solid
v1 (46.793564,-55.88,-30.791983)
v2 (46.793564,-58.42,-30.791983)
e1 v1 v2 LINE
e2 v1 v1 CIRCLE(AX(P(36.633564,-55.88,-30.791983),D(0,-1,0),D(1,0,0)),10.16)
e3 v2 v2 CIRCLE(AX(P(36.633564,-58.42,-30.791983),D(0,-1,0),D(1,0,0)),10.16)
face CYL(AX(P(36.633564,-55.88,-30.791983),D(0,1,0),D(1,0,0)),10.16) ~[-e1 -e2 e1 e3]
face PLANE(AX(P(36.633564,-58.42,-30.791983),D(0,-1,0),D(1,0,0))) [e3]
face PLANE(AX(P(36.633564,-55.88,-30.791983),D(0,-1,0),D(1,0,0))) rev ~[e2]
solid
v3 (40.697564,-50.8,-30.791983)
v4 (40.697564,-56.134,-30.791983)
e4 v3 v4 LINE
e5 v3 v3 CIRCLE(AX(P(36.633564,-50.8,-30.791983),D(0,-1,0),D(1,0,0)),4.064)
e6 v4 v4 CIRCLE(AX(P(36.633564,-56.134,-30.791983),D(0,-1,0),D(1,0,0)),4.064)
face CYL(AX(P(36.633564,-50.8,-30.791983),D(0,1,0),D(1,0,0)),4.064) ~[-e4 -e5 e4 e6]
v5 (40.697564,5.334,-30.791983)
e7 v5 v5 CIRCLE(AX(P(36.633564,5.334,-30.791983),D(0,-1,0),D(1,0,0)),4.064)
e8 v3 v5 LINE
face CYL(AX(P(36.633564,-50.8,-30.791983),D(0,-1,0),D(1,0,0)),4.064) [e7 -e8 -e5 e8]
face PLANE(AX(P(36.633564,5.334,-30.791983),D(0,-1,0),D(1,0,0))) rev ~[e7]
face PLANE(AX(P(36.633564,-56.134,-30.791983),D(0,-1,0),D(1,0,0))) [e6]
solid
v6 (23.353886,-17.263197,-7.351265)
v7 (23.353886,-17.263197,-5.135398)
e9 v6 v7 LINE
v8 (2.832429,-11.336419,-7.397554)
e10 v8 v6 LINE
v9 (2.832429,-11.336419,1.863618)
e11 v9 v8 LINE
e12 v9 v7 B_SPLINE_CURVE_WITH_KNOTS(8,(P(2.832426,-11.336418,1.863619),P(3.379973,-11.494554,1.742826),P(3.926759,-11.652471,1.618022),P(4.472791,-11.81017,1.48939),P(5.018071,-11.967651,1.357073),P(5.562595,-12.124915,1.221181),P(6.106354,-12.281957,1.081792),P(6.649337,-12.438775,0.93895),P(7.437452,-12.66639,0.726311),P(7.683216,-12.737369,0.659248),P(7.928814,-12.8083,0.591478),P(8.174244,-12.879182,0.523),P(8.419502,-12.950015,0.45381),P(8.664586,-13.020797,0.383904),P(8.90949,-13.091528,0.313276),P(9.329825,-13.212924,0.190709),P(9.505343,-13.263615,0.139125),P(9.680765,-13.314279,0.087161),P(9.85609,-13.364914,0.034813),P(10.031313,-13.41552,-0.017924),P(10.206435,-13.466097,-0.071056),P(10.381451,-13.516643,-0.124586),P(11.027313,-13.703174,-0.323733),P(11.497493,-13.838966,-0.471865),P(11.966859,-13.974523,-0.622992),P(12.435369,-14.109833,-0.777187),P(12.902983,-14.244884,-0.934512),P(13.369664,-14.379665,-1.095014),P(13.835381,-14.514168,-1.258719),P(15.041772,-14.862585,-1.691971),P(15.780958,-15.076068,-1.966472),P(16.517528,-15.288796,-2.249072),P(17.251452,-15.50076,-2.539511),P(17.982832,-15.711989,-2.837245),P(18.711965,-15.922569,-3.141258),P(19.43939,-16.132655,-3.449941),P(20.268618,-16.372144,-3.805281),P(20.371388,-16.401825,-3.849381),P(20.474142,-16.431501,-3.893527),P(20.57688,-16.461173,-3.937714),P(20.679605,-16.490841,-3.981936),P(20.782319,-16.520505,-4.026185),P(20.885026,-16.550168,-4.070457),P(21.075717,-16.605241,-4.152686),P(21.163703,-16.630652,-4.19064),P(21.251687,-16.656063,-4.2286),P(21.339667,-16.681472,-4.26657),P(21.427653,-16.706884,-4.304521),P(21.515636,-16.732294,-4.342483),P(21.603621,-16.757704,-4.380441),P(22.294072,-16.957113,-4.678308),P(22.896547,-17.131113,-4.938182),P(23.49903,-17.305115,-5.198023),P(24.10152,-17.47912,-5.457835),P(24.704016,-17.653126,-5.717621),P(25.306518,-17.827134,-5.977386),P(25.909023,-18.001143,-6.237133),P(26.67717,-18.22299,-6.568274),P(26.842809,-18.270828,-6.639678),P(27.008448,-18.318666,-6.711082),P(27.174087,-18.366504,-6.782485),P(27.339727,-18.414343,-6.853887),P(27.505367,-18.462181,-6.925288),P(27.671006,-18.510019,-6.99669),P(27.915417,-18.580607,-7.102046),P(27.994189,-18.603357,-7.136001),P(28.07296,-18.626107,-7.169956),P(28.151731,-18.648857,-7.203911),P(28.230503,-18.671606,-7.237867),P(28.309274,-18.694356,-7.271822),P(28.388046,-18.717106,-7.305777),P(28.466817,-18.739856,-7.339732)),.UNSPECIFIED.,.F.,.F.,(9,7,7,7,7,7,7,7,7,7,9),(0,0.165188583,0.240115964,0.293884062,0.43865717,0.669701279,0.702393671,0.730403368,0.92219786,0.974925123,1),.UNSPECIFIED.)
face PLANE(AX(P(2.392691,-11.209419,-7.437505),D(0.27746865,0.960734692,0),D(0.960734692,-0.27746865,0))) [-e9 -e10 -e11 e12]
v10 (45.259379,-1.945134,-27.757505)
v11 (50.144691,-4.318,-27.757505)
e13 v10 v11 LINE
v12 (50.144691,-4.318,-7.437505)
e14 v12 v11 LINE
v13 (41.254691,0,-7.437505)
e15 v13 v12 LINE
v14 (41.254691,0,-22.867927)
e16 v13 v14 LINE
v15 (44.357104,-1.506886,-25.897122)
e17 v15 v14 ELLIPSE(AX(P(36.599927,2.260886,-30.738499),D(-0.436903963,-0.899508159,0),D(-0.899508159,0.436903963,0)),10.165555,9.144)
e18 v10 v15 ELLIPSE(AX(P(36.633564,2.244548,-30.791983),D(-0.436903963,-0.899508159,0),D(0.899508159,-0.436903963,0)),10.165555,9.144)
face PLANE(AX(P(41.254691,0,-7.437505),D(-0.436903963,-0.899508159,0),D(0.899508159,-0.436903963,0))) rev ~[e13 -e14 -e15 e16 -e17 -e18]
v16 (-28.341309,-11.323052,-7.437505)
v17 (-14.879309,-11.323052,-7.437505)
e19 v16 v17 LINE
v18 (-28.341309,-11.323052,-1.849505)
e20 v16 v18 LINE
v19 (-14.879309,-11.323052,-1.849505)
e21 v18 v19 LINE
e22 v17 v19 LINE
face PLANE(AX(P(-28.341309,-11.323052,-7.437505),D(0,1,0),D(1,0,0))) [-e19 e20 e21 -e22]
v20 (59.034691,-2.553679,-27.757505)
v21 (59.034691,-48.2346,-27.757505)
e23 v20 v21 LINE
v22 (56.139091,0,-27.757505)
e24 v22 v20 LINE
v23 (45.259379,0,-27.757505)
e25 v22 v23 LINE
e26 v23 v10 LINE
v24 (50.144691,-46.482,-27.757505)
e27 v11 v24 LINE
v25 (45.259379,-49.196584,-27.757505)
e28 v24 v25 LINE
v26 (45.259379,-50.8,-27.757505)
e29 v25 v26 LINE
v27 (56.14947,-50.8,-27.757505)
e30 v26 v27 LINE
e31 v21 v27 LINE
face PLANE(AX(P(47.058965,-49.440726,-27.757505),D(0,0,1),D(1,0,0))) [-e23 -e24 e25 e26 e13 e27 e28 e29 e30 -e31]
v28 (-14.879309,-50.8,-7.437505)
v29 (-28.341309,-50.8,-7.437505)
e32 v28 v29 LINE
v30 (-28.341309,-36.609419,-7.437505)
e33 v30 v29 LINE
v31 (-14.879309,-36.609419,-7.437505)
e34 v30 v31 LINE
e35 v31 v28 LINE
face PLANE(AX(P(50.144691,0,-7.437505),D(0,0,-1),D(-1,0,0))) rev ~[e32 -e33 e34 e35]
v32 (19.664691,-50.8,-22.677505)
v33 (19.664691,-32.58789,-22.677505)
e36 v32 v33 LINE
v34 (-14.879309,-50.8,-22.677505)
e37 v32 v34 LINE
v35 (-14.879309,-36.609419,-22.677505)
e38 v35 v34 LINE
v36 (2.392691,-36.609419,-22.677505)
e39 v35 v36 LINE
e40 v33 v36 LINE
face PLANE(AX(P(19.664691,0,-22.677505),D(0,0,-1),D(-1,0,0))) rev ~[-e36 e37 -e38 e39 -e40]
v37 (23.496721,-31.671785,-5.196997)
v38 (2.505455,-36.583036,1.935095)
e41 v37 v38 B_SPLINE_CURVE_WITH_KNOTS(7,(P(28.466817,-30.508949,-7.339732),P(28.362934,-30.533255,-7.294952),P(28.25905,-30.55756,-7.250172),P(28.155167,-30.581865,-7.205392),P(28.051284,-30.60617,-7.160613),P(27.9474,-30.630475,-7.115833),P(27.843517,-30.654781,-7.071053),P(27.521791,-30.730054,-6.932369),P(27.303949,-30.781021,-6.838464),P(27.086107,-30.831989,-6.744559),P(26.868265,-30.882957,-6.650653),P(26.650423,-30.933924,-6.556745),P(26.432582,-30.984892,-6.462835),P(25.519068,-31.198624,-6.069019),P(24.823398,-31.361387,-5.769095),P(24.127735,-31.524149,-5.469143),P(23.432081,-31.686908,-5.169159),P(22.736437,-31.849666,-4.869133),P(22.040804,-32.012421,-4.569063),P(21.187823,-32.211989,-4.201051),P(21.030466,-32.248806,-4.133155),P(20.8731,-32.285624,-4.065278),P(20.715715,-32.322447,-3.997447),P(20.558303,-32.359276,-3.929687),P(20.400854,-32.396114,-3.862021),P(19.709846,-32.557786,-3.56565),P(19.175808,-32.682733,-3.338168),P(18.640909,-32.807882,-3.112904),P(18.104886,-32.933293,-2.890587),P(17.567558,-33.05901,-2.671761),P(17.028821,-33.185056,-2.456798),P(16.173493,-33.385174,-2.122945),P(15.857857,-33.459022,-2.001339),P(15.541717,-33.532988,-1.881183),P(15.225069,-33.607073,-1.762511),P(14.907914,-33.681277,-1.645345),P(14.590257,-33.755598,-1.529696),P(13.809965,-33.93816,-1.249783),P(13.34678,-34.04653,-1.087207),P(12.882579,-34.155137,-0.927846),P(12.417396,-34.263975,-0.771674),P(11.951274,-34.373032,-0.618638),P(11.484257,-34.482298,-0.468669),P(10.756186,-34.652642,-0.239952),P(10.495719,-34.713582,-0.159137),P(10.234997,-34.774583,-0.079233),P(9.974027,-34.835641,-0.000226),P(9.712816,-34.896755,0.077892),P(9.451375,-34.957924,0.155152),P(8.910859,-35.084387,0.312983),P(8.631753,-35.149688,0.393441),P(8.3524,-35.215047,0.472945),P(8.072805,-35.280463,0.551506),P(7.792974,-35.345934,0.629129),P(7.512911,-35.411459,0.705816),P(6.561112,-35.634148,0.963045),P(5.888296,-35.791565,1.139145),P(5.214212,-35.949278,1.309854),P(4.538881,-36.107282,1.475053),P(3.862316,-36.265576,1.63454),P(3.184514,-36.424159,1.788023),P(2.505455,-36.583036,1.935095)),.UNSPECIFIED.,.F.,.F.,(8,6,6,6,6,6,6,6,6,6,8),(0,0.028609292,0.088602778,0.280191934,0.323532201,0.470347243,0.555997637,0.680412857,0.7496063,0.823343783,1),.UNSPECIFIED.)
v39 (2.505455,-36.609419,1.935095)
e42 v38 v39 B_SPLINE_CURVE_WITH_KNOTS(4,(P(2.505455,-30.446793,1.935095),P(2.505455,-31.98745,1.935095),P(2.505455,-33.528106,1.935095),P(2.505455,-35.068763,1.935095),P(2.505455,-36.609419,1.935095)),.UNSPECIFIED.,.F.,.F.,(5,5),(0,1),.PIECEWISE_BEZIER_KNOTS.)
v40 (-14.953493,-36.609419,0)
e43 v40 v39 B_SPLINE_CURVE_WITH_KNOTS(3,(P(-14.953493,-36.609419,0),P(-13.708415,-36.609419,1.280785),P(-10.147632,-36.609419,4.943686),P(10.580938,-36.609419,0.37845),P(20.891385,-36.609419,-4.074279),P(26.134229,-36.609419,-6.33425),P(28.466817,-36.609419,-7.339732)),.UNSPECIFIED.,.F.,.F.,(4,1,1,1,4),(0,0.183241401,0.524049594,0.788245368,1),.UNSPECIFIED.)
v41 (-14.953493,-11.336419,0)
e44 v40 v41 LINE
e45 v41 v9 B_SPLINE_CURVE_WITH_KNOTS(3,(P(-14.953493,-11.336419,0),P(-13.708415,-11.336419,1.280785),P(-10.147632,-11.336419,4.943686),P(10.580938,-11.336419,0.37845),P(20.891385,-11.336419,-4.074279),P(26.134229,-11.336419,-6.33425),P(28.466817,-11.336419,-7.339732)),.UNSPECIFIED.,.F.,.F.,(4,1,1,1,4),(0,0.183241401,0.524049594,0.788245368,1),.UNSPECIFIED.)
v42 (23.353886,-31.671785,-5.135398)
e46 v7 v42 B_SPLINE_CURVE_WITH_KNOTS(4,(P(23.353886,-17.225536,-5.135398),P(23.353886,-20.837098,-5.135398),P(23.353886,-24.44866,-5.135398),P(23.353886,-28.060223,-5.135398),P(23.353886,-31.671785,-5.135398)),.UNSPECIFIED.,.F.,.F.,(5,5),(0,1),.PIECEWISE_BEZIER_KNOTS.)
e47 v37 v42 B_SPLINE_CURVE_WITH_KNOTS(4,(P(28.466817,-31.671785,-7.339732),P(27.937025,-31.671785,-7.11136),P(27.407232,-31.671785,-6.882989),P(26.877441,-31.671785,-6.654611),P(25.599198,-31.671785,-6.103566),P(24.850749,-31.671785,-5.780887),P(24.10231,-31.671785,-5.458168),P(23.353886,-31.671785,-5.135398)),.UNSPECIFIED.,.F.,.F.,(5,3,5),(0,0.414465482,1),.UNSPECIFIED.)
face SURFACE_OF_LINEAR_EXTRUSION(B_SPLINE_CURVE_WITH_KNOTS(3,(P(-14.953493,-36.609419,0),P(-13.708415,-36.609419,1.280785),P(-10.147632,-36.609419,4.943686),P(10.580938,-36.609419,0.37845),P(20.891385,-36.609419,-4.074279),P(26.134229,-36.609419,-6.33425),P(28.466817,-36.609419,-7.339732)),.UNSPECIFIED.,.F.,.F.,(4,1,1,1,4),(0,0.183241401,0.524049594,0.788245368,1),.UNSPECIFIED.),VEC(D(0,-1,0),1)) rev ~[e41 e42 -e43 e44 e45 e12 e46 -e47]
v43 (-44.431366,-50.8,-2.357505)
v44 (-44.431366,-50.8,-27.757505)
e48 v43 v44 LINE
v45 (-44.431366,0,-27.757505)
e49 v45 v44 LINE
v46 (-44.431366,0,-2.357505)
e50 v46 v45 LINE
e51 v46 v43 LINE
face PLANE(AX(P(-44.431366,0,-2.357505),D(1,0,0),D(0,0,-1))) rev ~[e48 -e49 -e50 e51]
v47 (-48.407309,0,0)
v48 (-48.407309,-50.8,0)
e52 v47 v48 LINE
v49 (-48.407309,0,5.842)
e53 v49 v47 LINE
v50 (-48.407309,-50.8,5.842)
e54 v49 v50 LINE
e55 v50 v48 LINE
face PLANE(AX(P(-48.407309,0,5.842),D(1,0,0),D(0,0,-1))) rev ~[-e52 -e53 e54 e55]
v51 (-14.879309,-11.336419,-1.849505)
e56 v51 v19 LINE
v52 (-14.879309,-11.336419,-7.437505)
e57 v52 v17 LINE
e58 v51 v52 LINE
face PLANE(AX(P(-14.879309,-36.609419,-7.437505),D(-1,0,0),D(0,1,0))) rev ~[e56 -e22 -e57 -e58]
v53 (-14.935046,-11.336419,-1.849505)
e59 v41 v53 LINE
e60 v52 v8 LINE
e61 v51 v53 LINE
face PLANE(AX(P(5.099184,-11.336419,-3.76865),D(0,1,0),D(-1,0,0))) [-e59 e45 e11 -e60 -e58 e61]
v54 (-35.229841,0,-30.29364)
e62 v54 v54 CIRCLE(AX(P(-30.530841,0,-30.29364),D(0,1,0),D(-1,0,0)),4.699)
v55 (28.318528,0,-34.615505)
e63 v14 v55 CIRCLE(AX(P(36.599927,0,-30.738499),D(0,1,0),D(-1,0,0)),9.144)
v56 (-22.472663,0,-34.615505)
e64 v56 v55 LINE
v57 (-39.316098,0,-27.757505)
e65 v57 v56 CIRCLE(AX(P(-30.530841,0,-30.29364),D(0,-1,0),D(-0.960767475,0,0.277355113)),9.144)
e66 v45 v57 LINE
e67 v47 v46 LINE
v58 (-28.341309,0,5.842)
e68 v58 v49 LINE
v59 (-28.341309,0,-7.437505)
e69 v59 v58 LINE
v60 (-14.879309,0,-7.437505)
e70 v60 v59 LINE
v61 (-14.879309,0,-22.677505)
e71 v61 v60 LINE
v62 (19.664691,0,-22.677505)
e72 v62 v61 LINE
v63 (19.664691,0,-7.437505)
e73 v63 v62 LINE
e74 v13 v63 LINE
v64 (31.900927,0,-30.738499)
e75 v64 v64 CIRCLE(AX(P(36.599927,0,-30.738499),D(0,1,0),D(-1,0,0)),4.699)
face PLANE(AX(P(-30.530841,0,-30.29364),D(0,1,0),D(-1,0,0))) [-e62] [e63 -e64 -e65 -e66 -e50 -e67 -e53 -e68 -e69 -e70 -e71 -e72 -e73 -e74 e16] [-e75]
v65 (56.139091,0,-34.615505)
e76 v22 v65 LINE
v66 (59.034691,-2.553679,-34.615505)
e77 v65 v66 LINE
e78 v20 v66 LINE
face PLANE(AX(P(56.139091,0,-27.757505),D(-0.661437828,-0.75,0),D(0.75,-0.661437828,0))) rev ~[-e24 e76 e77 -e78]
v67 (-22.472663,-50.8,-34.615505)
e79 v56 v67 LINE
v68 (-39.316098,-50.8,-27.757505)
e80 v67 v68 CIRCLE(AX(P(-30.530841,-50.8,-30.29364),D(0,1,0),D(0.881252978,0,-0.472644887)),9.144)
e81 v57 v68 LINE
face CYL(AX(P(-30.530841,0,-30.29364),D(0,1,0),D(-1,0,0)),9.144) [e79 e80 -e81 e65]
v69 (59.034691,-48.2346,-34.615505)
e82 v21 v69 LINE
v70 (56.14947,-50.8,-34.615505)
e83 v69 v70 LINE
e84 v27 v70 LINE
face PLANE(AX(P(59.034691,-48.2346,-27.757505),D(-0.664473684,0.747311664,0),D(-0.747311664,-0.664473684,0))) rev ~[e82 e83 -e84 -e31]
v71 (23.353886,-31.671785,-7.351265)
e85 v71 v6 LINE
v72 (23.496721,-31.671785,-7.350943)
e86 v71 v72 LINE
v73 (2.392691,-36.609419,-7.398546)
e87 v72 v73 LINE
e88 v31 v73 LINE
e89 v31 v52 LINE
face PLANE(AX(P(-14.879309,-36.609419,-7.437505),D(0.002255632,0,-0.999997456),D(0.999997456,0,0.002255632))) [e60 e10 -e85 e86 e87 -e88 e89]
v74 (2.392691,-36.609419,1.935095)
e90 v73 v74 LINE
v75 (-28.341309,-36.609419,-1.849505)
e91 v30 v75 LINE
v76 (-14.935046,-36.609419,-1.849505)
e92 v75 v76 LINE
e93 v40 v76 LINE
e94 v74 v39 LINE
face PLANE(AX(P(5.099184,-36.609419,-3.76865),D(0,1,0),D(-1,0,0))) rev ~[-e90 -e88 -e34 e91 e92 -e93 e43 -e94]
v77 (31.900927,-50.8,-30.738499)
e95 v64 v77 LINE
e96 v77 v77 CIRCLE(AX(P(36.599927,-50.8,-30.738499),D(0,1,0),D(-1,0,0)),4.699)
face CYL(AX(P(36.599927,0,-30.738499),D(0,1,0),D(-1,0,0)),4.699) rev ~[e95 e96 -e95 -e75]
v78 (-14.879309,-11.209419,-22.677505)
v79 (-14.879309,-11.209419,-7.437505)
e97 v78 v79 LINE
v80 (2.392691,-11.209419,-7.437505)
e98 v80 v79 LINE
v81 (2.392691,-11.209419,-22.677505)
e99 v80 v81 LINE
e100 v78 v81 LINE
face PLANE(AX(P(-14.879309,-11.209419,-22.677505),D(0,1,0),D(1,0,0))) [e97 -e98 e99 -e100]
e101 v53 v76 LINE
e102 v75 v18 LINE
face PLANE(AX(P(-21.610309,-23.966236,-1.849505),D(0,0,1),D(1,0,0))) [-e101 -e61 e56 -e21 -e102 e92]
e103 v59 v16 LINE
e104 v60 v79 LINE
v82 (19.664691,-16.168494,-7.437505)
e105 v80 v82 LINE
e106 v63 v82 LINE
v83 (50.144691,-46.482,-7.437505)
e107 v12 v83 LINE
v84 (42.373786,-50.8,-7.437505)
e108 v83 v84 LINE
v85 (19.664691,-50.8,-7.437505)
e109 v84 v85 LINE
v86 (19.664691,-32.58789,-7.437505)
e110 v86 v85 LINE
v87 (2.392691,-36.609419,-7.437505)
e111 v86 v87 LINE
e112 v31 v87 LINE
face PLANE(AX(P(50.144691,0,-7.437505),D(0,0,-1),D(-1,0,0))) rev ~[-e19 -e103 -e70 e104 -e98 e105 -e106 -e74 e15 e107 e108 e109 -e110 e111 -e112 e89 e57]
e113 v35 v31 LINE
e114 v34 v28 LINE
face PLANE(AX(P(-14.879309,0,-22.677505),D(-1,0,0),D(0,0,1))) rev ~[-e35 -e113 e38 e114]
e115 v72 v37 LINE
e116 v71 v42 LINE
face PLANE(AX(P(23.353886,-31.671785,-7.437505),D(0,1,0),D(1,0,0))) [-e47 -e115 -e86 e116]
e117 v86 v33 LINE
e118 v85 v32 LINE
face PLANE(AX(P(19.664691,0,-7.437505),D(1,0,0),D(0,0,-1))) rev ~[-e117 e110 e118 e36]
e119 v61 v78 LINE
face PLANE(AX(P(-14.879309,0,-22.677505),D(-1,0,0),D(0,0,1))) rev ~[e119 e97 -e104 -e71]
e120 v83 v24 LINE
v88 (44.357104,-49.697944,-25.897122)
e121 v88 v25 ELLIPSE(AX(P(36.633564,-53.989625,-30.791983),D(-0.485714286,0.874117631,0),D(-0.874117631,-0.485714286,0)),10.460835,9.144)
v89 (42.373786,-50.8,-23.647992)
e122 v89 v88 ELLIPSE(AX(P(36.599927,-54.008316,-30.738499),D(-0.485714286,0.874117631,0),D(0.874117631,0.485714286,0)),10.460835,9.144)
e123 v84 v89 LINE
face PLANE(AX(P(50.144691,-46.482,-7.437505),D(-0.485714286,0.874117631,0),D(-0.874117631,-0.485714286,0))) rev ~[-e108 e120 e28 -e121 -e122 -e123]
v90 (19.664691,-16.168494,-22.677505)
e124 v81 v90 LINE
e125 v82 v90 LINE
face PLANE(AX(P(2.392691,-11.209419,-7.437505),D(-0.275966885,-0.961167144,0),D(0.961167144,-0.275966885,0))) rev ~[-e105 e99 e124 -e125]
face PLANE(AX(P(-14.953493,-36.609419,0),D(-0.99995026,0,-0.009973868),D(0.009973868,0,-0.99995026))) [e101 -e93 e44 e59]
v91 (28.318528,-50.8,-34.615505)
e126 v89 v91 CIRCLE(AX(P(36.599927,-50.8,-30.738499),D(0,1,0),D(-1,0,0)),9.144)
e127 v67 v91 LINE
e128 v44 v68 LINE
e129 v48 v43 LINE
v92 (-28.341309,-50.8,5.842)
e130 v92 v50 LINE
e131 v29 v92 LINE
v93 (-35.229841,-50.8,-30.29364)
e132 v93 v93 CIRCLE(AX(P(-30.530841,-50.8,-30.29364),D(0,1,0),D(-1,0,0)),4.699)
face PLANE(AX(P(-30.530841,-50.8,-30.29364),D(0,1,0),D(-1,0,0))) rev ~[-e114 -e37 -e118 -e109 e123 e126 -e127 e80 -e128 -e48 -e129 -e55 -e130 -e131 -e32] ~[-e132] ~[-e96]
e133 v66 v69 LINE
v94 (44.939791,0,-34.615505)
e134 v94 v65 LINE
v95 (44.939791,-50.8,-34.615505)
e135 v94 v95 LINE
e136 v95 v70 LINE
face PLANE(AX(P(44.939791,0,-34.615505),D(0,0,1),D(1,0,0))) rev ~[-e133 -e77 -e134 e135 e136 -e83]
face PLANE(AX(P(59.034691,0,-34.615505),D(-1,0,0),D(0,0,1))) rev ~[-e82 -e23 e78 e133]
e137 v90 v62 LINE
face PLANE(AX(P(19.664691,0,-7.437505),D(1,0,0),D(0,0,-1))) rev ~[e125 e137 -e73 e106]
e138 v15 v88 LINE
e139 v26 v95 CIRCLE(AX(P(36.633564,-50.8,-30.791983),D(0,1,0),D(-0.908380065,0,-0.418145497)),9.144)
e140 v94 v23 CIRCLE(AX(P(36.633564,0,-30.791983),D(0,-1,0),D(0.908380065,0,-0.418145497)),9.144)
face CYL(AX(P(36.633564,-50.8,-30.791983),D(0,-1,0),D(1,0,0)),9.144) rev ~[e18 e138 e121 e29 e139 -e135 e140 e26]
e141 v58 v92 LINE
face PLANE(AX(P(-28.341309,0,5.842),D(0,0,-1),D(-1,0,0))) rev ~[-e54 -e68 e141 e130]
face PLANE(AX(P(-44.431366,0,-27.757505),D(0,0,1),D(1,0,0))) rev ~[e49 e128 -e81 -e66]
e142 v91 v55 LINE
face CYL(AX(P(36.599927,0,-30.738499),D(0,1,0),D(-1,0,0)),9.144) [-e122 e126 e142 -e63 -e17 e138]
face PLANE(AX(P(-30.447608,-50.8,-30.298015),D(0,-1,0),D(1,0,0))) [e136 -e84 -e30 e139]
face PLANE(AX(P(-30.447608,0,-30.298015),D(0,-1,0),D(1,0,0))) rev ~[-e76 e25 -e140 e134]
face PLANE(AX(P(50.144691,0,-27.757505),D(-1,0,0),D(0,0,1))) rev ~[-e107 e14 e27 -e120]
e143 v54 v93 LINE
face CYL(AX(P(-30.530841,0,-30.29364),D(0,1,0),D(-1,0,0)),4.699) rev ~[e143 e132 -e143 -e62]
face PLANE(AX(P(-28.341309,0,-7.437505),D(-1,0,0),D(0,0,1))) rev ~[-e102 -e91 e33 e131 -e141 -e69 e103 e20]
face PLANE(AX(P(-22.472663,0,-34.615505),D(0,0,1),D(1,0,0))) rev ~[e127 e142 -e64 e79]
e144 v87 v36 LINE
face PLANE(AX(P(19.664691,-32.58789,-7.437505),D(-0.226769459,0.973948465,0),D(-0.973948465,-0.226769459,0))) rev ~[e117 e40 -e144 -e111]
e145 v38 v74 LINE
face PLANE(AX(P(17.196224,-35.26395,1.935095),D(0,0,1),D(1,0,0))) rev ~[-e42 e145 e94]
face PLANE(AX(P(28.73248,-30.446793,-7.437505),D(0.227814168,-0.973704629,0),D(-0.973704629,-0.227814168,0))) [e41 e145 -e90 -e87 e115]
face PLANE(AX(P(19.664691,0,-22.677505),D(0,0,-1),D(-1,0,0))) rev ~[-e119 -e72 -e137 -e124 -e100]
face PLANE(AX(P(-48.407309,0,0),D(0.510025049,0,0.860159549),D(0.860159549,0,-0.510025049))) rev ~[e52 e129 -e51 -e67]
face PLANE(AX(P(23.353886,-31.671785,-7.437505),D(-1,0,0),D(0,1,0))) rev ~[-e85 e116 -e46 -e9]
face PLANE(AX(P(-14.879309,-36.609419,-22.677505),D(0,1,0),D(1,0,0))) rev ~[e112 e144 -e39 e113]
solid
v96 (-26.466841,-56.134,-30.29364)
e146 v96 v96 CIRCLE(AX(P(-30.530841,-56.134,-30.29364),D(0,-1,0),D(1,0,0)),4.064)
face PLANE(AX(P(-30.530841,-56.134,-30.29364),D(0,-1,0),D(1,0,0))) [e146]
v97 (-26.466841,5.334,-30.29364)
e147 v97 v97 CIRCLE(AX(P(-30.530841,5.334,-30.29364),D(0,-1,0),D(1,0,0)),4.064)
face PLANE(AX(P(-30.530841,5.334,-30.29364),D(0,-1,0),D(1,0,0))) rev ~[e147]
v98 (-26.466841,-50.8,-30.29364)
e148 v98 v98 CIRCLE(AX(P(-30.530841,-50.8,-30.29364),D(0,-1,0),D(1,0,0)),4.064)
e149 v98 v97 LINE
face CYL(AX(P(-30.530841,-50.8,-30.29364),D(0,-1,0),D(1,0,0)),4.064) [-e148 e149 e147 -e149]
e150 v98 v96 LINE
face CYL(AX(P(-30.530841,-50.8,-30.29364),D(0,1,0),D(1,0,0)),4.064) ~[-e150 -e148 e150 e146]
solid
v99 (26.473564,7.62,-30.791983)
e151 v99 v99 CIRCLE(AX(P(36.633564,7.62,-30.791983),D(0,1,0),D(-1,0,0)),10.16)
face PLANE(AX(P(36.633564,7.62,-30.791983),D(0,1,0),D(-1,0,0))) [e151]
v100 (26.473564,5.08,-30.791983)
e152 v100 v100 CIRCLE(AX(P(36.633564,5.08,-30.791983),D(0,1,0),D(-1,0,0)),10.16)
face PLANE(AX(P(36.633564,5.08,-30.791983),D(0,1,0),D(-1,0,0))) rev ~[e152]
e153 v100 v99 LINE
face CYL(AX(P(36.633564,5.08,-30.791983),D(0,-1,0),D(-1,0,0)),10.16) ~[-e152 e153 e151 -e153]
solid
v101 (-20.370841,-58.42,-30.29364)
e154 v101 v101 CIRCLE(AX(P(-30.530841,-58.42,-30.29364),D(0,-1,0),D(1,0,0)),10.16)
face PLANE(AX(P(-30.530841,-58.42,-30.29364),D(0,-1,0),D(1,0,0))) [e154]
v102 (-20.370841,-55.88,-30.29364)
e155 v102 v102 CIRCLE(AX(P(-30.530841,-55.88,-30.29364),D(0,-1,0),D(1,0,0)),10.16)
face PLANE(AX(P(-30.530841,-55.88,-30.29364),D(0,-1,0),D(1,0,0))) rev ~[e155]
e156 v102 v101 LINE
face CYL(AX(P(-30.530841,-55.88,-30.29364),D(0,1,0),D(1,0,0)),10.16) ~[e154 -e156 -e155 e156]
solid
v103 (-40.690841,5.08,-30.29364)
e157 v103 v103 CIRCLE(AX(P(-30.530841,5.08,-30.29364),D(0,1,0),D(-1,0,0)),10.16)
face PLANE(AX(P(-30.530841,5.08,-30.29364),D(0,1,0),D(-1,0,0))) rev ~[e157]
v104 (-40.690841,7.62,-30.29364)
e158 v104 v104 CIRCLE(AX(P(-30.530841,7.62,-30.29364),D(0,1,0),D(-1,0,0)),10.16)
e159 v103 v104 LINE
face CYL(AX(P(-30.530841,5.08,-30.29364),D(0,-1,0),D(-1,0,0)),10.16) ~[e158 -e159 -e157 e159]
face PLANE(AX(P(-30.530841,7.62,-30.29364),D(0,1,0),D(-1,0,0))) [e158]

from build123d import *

# Parameters (mm, degrees)
F1_DEPTH      = 50.8
F2_R          = 9.144
F3_DEPTH      = 54.864
F4_R          = 4.064
F5_DEPTH      = 56.134
F5_DEPTH_BACK = 5.334
F7_START      = 5.08
F6_R          = 10.16
F7_DEPTH      = 2.54
F9_START      = 5.08
F8_R          = 10.16
F9_DEPTH      = 2.54
F10_W         = 34.544
F10_H         = 25.4
F11_DEPTH     = 15.24
F12_W         = 13.462
F12_H         = 25.2863662317
F13_DEPTH     = 5.588
F15_DEPTH     = 25.273
F17_DEPTH     = 9.3726
F19_DEPTH     = 20.32
F20_R         = 9.144
F20_R_2       = 4.699
F21_DEPTH     = 50.8
F22_W         = 6.9764815271
F22_H         = 14.4462492317
F23_DEPTH     = 11.176
F25_DEPTH     = 25.4
F27_DEPTH     = 15.24


with BuildPart() as f1:
    # F0 (on Front) → F1 (new body)
    with BuildSketch(Plane.XZ):
        with BuildLine():
            ThreePointArc((-39.3160984872, -27.7575049432), (-33.9790579937, -38.7625558195), (-22.4726634651, -34.6155049432))
            ThreePointArc((-22.4726634651, -34.6155049432), (-21.6624499567, -32.5217293492), (-21.3868406955, -30.2936400999))
            ThreePointArc((-21.3868406955, -30.2936400999), (-29.2501497194, -21.2397698433), (-39.3160984872, -27.7575049432))
        make_face()
        with BuildLine():
            ThreePointArc((-21.3868406955, -30.2936400999), (-21.6624499567, -32.5217293492), (-22.4726634651, -34.6155049432))
            Line((-22.4726634651, -34.6155049432), (28.3273365349, -34.6155049432))
            ThreePointArc((28.3273365349, -34.6155049432), (34.6764494687, -21.8598808978), (45.7775638516, -30.7919825146))
            ThreePointArc((45.7775638516, -30.7919825146), (45.5656654684, -32.7490968975), (44.9397911684, -34.6155049432))
            Line((44.9397911684, -34.6155049432), (59.0346912427, -34.6155049432))
            Line((59.0346912427, -34.6155049432), (59.0346912427, -27.7575049432))
            Line((59.0346912427, -27.7575049432), (50.1446912427, -27.7575049432))
            Line((50.1446912427, -27.7575049432), (50.1446912427, -7.4375049432))
            Line((50.1446912427, -7.4375049432), (19.6646912427, -7.4375049432))
            Line((19.6646912427, -7.4375049432), (19.6646912427, -22.6775049432))
            Line((19.6646912427, -22.6775049432), (-14.8793087573, -22.6775049432))
            Line((-14.8793087573, -22.6775049432), (-14.8793087573, -7.4375049432))
            Line((-14.8793087573, -7.4375049432), (-28.3413087573, -7.4375049432))
            Line((-28.3413087573, -7.4375049432), (-28.3413087573, 5.842))
            Line((-28.3413087573, 5.842), (-48.4073087573, 5.842))
            Line((-48.4073087573, 5.842), (-48.4073087573, 0))
            Line((-48.4073087573, 0), (-44.4313660264, -2.3575049432))
            Line((-44.4313660264, -2.3575049432), (-44.4313660264, -27.7575049432))
            Line((-44.4313660264, -27.7575049432), (-39.3160984872, -27.7575049432))
            ThreePointArc((-39.3160984872, -27.7575049432), (-29.2501497194, -21.2397698433), (-21.3868406955, -30.2936400999))
        make_face()
        with BuildLine():
            ThreePointArc((45.7775638516, -30.7919825146), (34.6764494687, -21.8598808978), (28.3273365349, -34.6155049432))
            ThreePointArc((28.3273365349, -34.6155049432), (36.6335638516, -39.9359825146), (44.9397911684, -34.6155049432))
            ThreePointArc((44.9397911684, -34.6155049432), (45.5656654684, -32.7490968975), (45.7775638516, -30.7919825146))
        make_face()
    extrude(amount=F1_DEPTH)

    # F2 (on face) → F3 (cut)
    with BuildSketch(Plane.XZ.offset(50.8)):
        with Locations((-30.5308406955, -30.2936400999)):
            Circle(F2_R)
        with Locations((36.6335638516, -30.7919825146)):
            Circle(F2_R)
    extrude(amount=-F3_DEPTH, mode=Mode.SUBTRACT)

    # F10 (on face) → F11 (join)
    with BuildSketch(Plane.XY.offset(-22.6775049432)):
        with Locations((2.3926912427, -23.9094186902)):
            Rectangle(F10_W, F10_H)
    extrude(amount=F11_DEPTH)

    # F12 (on face) → F13 (join)
    with BuildSketch(Plane.XY.offset(-7.4375049432)):
        with Locations((-21.6103087573, -23.9662355743)):
            Rectangle(F12_W, F12_H)
    extrude(amount=F13_DEPTH)

    # F14 (on face) → F15 (join)
    with BuildSketch(Plane.XZ.offset(36.6094186902)):
        with BuildLine():
            add(Edge.make_bspline(
                [(-14.9534931406, 0), (-13.7084147885, 1.280785357), (-10.1476321192, 4.9436860046), (10.580938155, 0.3784500707), (20.8913849344, -4.0742789406), (26.1342285398, -6.3342501821), (28.4668169916, -7.3397317901)],
                knots=[0, 0, 0, 0, 0.183241401, 0.5240495941, 0.7882453676, 1, 1, 1, 1], degree=3))
            Line((-14.9534931406, 0), (-14.8793087573, -7.4375049432))
            Line((-14.8793087573, -7.4375049432), (28.4668169916, -7.3397317901))
        make_face()
    extrude(amount=-F15_DEPTH)

    # F16 (on face) → F17 (cut)
    with BuildSketch(Plane.XY.offset(-7.4375049432)):
        Polygon((2.3926912427, -11.2094186902), (28.6921481749, -18.8049337278), (28.7324799613, -11.1850404643), align=None)
        Polygon((28.6921481749, -38.0666863767), (28.7324799613, -30.4467931132), (2.3926912427, -36.6094186902), align=None)
    extrude(amount=F17_DEPTH, mode=Mode.SUBTRACT)

    # F18 (on face) → F19 (cut)
    with BuildSketch(Plane.XY.offset(-7.4375049432)):
        Polygon((50.1446912427, -4.318), (50.1446912427, 0), (41.2546912427, 0), align=None)
        Polygon((42.373785504, -50.8), (50.1446912427, -50.8), (50.1446912427, -46.482), align=None)
    extrude(amount=-F19_DEPTH, mode=Mode.SUBTRACT)

    # F20 (on face) → F21 (join)
    with BuildSketch(Plane(origin=(0, 0, 0), x_dir=(-1, 0, 0), z_dir=(0, 1, 0))):
        with Locations((30.5308406955, -30.2936400999)):
            Circle(F20_R)
        with Locations((30.5308406955, -30.2936400999)):
            Circle(F20_R_2, mode=Mode.SUBTRACT)
        with Locations((-36.5999266505, -30.7384990156)):
            Circle(F20_R)
        with Locations((-36.5999266505, -30.7384990156)):
            Circle(F20_R_2, mode=Mode.SUBTRACT)
    extrude(amount=-F21_DEPTH)

    # F22 (on face) → F23 (cut)
    with BuildSketch(Plane.XY.offset(-7.4375049432)):
        with Locations((26.8421266228, -24.4486602023)):
            Rectangle(F22_W, F22_H)
    extrude(amount=F23_DEPTH, mode=Mode.SUBTRACT)

    # F24 (on face) → F25 (cut)
    with BuildSketch(Plane.XY.offset(-27.7575049432)):
        Polygon((59.0346912427, 0), (56.1390912427, 0), (59.0346912427, -2.5536791654), align=None)
        Polygon((59.0346912427, -48.2346), (56.1494703707, -50.8), (59.0346912427, -50.8), align=None)
    extrude(amount=-F25_DEPTH, mode=Mode.SUBTRACT)

    # F26 (on face) → F27 (cut)
    with BuildSketch(Plane.XY.offset(-7.4375049432)):
        Polygon((19.6646912427, -16.1684937775), (19.6646912427, -11.2094186902), (2.3926912427, -11.2094186902), align=None)
        Polygon((2.3926912427, -36.6094186902), (19.6646912427, -36.6094186902), (19.6646912427, -32.5878895819), align=None)
    extrude(amount=-F27_DEPTH, mode=Mode.SUBTRACT)


with BuildPart() as f5:
    # F4 (on face) → F5 (new body, two sides)
    with BuildSketch(Plane.XZ.offset(50.8)) as f5_sk:
        with Locations((36.6335638516, -30.7919825146)):
            Circle(F4_R)
    extrude(amount=-F5_DEPTH)
    extrude(f5_sk.sketch, amount=F5_DEPTH_BACK)


with BuildPart() as f5b:
    # F4 (on face) → F5, piece 2 (new body, two sides)
    with BuildSketch(Plane.XZ.offset(50.8)) as f5_2_sk:
        with Locations((-30.5308406955, -30.2936400999)):
            Circle(F4_R)
    extrude(amount=-F5_DEPTH)
    extrude(f5_2_sk.sketch, amount=F5_DEPTH_BACK)


with BuildPart() as f7:
    # F6 (on face) → F7 (new body)
    with BuildSketch(Plane.XZ.offset(50.8).offset(F7_START)):
        with Locations((-30.5308406955, -30.2936400999)):
            Circle(F6_R)
    extrude(amount=F7_DEPTH)


with BuildPart() as f7b:
    # F6 (on face) → F7, piece 2 (new body)
    with BuildSketch(Plane.XZ.offset(50.8).offset(F7_START)):
        with Locations((36.6335638516, -30.7919825146)):
            Circle(F6_R)
    extrude(amount=F7_DEPTH)


with BuildPart() as f9:
    # F8 (on face) → F9 (new body)
    with BuildSketch(Plane(origin=(0, 0, 0), x_dir=(-1, 0, 0), z_dir=(0, 1, 0)).offset(F9_START)):
        with Locations((-36.6335638516, -30.7919825146)):
            Circle(F8_R)
    extrude(amount=F9_DEPTH)


with BuildPart() as f9b:
    # F8 (on face) → F9, piece 2 (new body)
    with BuildSketch(Plane(origin=(0, 0, 0), x_dir=(-1, 0, 0), z_dir=(0, 1, 0)).offset(F9_START)):
        with Locations((30.5308406955, -30.2936400999)):
            Circle(F8_R)
    extrude(amount=F9_DEPTH)


solid = Compound([f1.part, f5.part, f5b.part, f7.part, f7b.part, f9.part, f9b.part])
